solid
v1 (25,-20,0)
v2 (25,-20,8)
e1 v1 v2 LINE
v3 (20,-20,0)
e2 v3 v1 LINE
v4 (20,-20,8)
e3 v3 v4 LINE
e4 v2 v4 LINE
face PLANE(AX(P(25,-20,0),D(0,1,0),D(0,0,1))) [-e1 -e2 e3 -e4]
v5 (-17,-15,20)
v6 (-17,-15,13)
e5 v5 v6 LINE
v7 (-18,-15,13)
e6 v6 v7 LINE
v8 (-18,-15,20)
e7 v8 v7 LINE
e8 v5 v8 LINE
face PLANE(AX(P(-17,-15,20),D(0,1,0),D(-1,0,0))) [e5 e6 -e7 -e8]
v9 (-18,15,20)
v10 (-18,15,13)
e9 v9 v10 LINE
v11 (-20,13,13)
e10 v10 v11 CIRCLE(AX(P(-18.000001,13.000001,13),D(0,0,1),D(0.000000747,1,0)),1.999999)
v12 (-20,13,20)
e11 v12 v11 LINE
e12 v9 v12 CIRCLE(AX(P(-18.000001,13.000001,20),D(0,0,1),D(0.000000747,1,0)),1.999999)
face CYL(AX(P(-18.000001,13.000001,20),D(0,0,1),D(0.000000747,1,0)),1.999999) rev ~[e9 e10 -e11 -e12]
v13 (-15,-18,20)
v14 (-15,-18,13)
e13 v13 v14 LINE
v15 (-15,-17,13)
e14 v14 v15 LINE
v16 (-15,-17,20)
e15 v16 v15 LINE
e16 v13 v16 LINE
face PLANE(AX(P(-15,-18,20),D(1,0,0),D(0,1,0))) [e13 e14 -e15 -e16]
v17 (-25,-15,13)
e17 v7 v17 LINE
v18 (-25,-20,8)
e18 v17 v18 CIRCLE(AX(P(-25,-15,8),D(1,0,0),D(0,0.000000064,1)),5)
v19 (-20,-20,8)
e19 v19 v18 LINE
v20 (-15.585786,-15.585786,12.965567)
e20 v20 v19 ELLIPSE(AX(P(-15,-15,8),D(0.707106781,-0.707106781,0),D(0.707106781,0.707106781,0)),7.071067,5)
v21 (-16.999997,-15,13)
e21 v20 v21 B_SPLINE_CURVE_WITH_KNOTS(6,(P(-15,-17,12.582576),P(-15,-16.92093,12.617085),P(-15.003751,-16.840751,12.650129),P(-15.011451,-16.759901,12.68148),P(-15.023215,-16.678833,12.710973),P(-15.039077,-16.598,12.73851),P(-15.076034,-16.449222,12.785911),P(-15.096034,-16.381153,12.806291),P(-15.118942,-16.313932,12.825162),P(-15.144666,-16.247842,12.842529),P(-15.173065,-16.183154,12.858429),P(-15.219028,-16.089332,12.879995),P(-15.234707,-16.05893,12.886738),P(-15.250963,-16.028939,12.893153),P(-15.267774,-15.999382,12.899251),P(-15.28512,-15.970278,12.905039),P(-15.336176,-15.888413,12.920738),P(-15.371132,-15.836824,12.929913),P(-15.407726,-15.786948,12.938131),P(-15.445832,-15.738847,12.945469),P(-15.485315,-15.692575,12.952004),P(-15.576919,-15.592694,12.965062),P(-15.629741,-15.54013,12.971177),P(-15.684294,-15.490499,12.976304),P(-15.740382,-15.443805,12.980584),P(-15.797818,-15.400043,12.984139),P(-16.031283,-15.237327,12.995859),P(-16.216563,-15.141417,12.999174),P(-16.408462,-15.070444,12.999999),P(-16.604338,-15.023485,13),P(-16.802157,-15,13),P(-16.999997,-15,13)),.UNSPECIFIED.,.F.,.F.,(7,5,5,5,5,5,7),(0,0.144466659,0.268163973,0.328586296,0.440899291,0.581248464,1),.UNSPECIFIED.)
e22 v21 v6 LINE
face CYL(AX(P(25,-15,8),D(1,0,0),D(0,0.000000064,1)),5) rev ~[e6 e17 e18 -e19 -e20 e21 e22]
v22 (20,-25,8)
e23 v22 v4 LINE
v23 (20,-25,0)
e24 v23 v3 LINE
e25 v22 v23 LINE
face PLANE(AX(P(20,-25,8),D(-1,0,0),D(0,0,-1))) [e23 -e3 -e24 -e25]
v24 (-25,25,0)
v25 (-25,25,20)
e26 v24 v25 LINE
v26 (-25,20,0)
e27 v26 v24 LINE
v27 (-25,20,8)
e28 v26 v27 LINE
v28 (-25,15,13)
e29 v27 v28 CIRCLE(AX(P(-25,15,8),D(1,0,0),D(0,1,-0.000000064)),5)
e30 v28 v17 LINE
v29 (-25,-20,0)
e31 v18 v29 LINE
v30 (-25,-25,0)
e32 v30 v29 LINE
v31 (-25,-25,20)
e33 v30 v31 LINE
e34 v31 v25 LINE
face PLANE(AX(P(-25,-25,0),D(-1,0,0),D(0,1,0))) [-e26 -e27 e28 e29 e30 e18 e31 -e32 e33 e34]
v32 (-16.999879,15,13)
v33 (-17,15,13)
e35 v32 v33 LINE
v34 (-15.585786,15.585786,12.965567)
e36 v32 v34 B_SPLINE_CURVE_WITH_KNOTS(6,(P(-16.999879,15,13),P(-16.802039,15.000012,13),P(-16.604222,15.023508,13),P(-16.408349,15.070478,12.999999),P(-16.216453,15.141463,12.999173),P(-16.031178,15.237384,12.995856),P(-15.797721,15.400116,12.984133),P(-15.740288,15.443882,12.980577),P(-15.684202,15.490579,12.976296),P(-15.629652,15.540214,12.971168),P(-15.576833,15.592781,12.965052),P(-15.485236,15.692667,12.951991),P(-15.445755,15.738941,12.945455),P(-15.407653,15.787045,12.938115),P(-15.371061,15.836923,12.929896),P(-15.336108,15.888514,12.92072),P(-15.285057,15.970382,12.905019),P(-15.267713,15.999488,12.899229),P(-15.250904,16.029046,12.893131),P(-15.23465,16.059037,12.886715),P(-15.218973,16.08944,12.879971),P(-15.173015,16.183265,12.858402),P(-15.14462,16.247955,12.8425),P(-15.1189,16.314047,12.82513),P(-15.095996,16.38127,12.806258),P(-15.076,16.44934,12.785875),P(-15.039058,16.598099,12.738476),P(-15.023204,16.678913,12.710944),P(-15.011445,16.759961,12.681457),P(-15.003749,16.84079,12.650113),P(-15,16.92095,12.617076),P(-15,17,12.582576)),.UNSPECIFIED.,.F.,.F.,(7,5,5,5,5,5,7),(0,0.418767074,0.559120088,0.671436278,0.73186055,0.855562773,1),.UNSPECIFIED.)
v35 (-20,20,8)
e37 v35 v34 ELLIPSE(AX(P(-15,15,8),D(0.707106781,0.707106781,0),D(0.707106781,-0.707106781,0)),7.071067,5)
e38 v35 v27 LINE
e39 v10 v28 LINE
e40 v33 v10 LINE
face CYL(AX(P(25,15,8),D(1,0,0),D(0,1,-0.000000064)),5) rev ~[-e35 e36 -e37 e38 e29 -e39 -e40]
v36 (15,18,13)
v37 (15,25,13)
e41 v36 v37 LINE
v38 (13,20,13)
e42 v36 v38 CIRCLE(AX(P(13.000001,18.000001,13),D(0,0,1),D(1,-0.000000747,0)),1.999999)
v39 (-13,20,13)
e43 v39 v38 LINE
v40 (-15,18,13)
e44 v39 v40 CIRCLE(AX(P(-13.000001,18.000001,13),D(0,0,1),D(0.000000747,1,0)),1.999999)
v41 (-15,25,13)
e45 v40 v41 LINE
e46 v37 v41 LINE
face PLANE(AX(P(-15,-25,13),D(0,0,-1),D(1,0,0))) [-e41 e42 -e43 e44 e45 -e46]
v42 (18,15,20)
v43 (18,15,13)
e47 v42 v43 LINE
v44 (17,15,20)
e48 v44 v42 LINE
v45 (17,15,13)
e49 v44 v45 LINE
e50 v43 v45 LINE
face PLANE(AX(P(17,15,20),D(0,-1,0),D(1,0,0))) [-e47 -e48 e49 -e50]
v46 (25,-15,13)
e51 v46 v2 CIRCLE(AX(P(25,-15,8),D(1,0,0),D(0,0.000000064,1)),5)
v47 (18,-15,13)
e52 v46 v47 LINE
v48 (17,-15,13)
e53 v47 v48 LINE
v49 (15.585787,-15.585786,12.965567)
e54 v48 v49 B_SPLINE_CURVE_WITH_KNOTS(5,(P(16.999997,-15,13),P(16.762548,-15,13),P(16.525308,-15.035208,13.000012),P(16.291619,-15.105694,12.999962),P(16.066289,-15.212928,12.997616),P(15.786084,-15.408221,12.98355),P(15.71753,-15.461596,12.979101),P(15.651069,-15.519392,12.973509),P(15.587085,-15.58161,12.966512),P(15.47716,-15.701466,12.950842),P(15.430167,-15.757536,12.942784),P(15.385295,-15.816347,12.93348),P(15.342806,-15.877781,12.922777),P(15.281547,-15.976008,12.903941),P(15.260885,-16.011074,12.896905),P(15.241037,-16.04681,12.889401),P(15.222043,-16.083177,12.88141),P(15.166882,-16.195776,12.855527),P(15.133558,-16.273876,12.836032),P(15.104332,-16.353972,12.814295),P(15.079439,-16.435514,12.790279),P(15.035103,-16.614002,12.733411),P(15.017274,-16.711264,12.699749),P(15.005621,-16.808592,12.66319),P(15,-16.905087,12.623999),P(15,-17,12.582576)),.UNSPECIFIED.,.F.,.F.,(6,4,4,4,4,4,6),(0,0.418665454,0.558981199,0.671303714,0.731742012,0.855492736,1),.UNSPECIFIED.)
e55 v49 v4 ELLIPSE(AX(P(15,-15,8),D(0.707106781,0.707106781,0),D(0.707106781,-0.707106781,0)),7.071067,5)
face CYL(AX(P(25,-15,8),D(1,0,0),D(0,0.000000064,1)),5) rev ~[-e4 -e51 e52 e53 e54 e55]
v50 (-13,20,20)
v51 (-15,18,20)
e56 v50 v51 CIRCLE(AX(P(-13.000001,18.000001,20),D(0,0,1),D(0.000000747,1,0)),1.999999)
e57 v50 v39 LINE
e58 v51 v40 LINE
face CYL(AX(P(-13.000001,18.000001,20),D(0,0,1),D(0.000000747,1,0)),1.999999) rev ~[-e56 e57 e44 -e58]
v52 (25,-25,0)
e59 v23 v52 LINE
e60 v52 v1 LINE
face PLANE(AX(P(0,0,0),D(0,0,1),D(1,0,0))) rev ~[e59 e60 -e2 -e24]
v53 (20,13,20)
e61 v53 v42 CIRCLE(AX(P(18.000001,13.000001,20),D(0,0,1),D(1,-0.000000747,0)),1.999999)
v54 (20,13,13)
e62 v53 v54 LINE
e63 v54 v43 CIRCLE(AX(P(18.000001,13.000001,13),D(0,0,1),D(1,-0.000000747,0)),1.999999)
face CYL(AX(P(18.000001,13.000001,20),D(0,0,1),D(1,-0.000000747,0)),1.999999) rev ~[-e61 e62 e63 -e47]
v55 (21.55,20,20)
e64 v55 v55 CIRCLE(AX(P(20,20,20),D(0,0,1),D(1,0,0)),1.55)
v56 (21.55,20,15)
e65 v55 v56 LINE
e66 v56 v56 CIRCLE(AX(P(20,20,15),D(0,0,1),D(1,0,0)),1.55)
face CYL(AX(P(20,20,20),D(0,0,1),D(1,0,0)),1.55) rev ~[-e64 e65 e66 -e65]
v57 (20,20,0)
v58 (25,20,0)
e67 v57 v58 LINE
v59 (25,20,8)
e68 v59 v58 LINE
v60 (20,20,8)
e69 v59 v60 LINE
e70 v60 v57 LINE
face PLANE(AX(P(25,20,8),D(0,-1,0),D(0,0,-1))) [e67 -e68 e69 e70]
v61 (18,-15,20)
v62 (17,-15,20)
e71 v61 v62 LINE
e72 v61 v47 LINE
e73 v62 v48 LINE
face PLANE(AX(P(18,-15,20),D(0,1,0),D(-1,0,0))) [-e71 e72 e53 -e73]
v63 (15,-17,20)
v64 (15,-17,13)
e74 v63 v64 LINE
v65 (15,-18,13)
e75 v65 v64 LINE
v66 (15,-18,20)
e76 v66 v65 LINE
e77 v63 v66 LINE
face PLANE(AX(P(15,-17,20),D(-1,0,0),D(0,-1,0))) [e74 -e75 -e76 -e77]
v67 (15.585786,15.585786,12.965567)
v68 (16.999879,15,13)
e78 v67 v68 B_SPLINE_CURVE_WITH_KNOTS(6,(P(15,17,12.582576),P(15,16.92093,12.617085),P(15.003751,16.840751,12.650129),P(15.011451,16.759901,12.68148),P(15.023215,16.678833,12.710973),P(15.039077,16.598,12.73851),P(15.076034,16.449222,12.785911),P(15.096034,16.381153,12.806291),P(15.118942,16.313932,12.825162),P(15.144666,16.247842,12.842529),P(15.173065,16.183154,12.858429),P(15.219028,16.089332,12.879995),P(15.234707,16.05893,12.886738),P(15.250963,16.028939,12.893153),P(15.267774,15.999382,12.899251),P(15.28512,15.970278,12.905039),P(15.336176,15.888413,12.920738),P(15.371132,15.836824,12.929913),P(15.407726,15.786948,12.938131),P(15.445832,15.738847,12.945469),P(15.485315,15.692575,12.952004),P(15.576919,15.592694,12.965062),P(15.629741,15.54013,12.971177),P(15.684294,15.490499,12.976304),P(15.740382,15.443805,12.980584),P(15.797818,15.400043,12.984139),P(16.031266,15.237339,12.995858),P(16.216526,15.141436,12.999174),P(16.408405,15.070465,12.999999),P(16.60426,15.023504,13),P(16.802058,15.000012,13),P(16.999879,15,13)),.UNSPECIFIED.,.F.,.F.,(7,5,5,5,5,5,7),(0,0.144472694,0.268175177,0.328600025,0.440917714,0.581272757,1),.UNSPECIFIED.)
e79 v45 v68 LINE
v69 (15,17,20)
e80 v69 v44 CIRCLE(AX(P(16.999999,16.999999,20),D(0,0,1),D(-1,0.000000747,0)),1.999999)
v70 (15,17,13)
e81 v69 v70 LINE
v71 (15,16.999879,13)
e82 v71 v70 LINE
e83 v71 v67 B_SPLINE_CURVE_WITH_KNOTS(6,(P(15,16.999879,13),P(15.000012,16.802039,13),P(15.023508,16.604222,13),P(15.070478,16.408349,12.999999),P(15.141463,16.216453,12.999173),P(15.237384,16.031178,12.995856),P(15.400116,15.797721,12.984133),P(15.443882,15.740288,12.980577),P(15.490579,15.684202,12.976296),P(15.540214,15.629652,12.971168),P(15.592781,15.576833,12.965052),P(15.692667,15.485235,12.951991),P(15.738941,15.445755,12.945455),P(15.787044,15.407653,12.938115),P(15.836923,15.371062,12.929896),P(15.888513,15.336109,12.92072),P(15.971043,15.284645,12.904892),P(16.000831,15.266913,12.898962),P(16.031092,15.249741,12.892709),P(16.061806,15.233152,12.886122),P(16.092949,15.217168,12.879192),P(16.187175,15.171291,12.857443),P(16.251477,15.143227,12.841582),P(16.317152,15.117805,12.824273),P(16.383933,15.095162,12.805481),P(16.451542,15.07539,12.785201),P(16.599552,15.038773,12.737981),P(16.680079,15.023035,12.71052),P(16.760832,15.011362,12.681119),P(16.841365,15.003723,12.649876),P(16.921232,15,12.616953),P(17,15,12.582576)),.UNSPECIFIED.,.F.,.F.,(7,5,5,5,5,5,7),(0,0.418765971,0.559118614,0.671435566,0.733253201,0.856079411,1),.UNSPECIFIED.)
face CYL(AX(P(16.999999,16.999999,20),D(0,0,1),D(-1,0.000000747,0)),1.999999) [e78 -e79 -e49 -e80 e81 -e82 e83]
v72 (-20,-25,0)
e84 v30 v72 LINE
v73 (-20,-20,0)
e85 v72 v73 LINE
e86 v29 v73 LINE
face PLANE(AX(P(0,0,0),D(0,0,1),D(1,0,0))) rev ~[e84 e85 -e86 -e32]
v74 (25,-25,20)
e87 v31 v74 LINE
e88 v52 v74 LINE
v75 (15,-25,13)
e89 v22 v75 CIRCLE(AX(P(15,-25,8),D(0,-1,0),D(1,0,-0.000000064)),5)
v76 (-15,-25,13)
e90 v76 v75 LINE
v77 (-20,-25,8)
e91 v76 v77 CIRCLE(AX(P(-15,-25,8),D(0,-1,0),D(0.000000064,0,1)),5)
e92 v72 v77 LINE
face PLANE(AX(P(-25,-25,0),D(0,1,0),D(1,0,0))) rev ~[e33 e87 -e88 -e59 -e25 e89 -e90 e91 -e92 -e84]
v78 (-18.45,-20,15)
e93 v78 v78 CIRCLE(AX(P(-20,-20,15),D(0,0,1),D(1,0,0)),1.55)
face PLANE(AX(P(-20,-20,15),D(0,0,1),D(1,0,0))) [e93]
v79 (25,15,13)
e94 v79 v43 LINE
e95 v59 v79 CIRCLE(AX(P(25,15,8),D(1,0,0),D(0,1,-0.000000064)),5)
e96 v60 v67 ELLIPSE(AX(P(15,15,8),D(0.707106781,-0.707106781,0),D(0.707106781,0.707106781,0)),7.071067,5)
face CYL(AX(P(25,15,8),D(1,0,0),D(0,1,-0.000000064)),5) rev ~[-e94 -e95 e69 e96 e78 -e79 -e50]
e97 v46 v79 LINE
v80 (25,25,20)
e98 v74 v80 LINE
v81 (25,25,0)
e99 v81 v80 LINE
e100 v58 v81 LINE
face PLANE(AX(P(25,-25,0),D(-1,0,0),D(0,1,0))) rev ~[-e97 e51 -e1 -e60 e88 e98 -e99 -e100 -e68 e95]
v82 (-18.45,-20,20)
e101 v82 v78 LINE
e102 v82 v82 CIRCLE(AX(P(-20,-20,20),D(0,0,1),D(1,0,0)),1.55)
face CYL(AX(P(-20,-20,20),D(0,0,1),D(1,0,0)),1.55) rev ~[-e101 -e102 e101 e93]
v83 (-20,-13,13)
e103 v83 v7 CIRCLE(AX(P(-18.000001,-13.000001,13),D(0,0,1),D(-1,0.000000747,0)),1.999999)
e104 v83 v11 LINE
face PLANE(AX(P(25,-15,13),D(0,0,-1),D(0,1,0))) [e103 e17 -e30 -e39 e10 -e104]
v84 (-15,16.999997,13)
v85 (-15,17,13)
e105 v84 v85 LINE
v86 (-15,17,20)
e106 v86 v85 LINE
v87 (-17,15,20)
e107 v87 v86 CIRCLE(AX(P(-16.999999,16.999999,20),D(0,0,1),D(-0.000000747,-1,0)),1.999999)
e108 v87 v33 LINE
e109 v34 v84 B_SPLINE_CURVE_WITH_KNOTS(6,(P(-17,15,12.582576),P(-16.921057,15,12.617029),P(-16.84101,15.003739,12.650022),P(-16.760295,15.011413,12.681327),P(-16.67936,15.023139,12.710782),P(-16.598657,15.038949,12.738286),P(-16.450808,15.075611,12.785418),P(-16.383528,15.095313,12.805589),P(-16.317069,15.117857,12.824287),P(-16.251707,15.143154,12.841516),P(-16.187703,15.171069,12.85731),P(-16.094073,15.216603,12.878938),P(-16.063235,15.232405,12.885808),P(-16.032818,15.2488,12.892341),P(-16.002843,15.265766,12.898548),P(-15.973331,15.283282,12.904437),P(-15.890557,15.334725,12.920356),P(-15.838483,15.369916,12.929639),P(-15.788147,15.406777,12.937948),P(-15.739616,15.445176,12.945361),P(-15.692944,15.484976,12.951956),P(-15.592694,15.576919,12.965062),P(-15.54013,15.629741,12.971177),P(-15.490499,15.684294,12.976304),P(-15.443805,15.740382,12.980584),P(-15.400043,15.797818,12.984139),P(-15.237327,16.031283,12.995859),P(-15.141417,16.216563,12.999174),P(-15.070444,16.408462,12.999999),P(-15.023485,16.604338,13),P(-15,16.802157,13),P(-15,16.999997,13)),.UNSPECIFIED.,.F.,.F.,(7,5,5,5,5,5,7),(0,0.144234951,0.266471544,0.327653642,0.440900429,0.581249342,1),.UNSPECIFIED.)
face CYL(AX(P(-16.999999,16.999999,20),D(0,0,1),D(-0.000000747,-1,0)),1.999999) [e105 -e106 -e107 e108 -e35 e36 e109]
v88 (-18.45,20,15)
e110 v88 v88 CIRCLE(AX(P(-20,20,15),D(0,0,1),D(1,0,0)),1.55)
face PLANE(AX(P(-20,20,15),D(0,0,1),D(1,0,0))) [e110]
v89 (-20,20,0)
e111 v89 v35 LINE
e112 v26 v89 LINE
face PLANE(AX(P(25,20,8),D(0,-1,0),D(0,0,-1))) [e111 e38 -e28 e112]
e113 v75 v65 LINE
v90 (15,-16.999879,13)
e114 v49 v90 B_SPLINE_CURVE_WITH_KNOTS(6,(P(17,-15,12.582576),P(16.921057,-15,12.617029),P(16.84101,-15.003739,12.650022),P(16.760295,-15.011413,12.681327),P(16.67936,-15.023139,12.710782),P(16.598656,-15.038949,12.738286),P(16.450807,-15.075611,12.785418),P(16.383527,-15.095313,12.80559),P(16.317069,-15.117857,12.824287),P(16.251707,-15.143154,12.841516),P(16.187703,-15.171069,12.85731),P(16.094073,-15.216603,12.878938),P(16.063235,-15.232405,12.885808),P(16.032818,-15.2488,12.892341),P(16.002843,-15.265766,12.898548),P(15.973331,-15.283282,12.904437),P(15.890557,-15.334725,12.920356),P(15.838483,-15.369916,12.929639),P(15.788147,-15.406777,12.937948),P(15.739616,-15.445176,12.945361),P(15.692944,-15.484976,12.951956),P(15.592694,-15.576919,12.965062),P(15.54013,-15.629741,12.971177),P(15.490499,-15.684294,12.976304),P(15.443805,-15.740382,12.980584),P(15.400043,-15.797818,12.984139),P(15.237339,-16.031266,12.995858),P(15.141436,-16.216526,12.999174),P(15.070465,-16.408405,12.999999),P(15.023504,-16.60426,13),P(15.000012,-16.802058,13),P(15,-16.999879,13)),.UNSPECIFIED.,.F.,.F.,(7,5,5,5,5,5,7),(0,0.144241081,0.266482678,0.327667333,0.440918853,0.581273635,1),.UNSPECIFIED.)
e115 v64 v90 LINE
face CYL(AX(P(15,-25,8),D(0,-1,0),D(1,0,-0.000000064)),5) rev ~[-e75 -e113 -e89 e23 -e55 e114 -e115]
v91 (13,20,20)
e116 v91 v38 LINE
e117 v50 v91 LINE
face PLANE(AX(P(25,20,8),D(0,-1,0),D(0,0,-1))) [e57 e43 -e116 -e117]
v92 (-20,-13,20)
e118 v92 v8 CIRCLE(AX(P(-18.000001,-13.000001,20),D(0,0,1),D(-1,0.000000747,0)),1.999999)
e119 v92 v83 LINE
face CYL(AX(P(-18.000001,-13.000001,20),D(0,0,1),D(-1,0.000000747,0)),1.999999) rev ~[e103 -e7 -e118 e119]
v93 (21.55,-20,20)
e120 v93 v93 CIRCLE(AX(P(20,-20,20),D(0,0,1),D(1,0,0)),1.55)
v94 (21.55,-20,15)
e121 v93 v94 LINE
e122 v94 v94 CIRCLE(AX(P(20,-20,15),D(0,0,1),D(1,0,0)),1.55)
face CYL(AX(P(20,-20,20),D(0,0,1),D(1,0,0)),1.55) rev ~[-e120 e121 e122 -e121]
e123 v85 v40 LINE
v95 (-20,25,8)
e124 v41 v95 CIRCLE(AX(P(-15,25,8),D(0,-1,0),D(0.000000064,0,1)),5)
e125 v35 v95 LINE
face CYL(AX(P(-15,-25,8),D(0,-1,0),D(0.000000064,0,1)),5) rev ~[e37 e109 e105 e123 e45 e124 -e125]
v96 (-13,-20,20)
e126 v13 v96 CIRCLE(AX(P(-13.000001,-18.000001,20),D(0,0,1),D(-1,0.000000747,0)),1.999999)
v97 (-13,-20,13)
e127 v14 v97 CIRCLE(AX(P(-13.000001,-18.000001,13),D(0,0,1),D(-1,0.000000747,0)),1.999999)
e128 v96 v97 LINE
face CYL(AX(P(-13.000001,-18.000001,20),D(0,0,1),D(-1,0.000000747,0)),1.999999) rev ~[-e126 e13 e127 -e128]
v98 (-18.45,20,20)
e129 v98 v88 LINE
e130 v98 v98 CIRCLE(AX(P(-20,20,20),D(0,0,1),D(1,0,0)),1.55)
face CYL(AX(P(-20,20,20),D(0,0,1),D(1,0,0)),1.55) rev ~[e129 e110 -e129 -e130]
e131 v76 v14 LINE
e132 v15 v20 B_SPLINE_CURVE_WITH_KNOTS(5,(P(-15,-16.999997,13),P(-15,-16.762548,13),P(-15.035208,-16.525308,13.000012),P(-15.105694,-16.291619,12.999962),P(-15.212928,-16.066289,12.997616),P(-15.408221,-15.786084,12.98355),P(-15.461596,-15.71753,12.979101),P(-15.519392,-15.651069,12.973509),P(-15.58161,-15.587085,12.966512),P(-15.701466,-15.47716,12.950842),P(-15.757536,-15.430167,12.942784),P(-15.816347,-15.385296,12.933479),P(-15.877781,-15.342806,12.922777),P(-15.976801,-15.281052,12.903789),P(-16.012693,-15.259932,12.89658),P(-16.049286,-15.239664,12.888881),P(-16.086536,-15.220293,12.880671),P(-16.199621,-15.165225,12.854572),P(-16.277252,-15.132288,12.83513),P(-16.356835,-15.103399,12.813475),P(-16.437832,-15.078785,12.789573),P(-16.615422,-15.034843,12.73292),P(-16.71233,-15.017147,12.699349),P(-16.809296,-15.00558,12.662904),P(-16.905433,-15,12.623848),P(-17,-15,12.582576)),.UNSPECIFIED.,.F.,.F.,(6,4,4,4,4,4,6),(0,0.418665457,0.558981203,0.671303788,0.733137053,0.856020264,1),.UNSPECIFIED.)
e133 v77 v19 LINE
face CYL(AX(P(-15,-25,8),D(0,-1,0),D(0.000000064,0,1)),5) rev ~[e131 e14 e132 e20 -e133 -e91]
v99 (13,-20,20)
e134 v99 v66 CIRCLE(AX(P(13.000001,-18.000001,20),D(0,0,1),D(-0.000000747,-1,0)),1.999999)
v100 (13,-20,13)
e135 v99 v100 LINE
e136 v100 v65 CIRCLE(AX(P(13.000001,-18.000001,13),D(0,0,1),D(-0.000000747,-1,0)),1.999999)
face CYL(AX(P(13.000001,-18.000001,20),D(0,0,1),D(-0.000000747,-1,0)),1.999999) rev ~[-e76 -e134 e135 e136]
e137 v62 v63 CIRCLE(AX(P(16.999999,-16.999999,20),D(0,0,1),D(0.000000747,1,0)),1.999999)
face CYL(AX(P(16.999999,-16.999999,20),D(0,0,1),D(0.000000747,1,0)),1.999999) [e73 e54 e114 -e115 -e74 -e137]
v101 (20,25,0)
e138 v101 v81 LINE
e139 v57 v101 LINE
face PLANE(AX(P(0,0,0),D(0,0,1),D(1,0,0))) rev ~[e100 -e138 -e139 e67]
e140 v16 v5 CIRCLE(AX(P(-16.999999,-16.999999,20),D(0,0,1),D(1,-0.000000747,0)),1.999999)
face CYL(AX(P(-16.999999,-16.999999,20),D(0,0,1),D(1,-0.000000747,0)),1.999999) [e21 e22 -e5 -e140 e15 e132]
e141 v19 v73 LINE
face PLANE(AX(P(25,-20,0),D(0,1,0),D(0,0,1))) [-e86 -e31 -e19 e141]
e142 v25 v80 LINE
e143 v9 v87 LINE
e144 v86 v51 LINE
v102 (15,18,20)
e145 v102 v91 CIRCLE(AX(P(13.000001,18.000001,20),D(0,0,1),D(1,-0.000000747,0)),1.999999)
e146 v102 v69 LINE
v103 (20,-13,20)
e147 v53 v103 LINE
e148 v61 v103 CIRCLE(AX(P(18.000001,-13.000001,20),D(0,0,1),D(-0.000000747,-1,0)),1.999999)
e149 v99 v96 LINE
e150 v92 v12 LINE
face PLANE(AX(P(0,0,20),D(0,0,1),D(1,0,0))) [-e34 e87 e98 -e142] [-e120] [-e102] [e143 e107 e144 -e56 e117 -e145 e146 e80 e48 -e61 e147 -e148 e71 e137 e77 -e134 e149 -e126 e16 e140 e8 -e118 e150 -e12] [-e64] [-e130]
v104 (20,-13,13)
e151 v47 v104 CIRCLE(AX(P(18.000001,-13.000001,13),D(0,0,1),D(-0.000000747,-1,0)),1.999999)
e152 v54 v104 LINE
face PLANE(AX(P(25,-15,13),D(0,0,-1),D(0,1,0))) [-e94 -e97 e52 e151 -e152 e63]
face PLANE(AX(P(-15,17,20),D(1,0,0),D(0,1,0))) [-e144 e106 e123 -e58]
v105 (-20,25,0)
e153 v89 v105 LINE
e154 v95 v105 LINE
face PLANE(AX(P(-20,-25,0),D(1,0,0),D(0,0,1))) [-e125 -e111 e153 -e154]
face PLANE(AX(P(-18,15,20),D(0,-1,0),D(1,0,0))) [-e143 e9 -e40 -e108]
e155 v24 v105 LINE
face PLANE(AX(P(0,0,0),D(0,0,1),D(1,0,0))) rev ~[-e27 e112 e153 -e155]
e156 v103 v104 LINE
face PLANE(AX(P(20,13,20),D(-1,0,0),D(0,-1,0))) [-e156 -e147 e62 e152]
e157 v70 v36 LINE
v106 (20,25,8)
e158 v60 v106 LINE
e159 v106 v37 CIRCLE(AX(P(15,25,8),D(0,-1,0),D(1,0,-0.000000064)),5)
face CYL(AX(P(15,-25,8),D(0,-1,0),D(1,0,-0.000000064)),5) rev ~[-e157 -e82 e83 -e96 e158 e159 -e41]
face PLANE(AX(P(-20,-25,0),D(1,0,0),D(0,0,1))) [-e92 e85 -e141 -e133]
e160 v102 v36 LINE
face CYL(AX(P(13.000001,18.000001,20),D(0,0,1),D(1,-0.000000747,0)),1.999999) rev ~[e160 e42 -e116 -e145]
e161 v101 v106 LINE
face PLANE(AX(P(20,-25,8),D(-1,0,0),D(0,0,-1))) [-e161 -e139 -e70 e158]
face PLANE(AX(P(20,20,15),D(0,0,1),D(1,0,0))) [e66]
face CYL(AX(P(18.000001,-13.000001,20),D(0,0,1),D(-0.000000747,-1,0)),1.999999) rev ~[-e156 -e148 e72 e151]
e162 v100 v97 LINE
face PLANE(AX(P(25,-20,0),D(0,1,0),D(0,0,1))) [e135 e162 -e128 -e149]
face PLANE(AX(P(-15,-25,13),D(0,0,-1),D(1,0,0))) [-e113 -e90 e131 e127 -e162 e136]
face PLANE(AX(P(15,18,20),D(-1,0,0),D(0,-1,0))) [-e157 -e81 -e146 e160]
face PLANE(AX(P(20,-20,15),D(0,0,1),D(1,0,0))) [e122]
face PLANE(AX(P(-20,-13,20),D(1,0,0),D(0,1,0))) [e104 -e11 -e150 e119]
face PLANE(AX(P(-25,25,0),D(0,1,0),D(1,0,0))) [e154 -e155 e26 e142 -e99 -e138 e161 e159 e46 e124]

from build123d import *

# Parameters (mm, degrees)
SKETCH_W        = 50
SKETCH_H        = 50
PAD_DEPTH       = 20
POCKET_DEPTH    = 20.001
POCKET001_DEPTH = 50.001
POCKET002_DEPTH = 50.001
SKETCH009_R     = 1.55
POCKET008_DEPTH = 5


with BuildPart() as part:
    # Sketch → Pad (new body)
    with BuildSketch(Plane.XY):
        Rectangle(SKETCH_W, SKETCH_H)
    extrude(amount=PAD_DEPTH)

    # Sketch001 (on Face6 of Pad) → Pocket (cut, through all)
    with BuildSketch(Plane.XY.offset(20)):
        with BuildLine():
            Line((-18, 15), (-17, 15))
            ThreePointArc((-17, 15), (-15.585786, 15.585786), (-15, 17))
            Line((-15, 17), (-15, 18))
            ThreePointArc((-13, 20), (-14.414214, 19.414214), (-15, 18))
            Line((-13, 20), (13, 20))
            ThreePointArc((15, 18), (14.414214, 19.414214), (13, 20))
            Line((15, 18), (15, 17))
            ThreePointArc((15, 17), (15.585786, 15.585786), (17, 15))
            Line((17, 15), (18, 15))
            ThreePointArc((20, 13), (19.414214, 14.414214), (18, 15))
            Line((20, 13), (20, -13))
            ThreePointArc((18, -15), (19.414214, -14.414214), (20, -13))
            Line((18, -15), (17, -15))
            ThreePointArc((17, -15), (15.585786, -15.585786), (15, -17))
            Line((15, -17), (15, -18))
            ThreePointArc((13, -20), (14.414214, -19.414214), (15, -18))
            Line((13, -20), (-13, -20))
            ThreePointArc((-15, -18), (-14.414214, -19.414214), (-13, -20))
            Line((-15, -18), (-15, -17))
            ThreePointArc((-15, -17), (-15.585786, -15.585786), (-17, -15))
            Line((-17, -15), (-18, -15))
            ThreePointArc((-20, -13), (-19.414214, -14.414214), (-18, -15))
            Line((-20, -13), (-20, 13))
            ThreePointArc((-18, 15), (-19.414214, 14.414214), (-20, 13))
        make_face()
    extrude(amount=-POCKET_DEPTH, mode=Mode.SUBTRACT)

    # Sketch002 (on Face3 of Pocket) → Pocket001 (cut, through all)
    with BuildSketch(Plane.YZ.offset(25)):
        with BuildLine():
            Line((-15, 13), (15, 13))
            ThreePointArc((20, 8), (18.535534, 11.535534), (15, 13))
            Line((20, 8), (20, 0))
            Line((20, 0), (-20, 0))
            Line((-20, 0), (-20, 8))
            ThreePointArc((-15, 13), (-18.535534, 11.535534), (-20, 8))
        make_face()
    extrude(amount=-POCKET001_DEPTH, mode=Mode.SUBTRACT)

    # Sketch003 (on Face6 of Pocket) → Pocket002 (cut, through all)
    with BuildSketch(Plane.XZ.offset(25)):
        with BuildLine():
            Line((-15, 13), (15, 13))
            ThreePointArc((20, 8), (18.535534, 11.535534), (15, 13))
            Line((20, 8), (20, 0))
            Line((20, 0), (-20, 0))
            Line((-20, 0), (-20, 8))
            ThreePointArc((-15, 13), (-18.535534, 11.535534), (-20, 8))
        make_face()
    extrude(amount=-POCKET002_DEPTH, mode=Mode.SUBTRACT)

    # Sketch009 → Pocket008 (cut)
    with BuildSketch(Plane.XY.offset(20)):
        with Locations((-20, 20)):
            Circle(SKETCH009_R)
        with Locations((20, 20)):
            Circle(SKETCH009_R)
        with Locations((20, -20)):
            Circle(SKETCH009_R)
        with Locations((-20, -20)):
            Circle(SKETCH009_R)
    extrude(amount=-POCKET008_DEPTH, mode=Mode.SUBTRACT)


solid = part.part
